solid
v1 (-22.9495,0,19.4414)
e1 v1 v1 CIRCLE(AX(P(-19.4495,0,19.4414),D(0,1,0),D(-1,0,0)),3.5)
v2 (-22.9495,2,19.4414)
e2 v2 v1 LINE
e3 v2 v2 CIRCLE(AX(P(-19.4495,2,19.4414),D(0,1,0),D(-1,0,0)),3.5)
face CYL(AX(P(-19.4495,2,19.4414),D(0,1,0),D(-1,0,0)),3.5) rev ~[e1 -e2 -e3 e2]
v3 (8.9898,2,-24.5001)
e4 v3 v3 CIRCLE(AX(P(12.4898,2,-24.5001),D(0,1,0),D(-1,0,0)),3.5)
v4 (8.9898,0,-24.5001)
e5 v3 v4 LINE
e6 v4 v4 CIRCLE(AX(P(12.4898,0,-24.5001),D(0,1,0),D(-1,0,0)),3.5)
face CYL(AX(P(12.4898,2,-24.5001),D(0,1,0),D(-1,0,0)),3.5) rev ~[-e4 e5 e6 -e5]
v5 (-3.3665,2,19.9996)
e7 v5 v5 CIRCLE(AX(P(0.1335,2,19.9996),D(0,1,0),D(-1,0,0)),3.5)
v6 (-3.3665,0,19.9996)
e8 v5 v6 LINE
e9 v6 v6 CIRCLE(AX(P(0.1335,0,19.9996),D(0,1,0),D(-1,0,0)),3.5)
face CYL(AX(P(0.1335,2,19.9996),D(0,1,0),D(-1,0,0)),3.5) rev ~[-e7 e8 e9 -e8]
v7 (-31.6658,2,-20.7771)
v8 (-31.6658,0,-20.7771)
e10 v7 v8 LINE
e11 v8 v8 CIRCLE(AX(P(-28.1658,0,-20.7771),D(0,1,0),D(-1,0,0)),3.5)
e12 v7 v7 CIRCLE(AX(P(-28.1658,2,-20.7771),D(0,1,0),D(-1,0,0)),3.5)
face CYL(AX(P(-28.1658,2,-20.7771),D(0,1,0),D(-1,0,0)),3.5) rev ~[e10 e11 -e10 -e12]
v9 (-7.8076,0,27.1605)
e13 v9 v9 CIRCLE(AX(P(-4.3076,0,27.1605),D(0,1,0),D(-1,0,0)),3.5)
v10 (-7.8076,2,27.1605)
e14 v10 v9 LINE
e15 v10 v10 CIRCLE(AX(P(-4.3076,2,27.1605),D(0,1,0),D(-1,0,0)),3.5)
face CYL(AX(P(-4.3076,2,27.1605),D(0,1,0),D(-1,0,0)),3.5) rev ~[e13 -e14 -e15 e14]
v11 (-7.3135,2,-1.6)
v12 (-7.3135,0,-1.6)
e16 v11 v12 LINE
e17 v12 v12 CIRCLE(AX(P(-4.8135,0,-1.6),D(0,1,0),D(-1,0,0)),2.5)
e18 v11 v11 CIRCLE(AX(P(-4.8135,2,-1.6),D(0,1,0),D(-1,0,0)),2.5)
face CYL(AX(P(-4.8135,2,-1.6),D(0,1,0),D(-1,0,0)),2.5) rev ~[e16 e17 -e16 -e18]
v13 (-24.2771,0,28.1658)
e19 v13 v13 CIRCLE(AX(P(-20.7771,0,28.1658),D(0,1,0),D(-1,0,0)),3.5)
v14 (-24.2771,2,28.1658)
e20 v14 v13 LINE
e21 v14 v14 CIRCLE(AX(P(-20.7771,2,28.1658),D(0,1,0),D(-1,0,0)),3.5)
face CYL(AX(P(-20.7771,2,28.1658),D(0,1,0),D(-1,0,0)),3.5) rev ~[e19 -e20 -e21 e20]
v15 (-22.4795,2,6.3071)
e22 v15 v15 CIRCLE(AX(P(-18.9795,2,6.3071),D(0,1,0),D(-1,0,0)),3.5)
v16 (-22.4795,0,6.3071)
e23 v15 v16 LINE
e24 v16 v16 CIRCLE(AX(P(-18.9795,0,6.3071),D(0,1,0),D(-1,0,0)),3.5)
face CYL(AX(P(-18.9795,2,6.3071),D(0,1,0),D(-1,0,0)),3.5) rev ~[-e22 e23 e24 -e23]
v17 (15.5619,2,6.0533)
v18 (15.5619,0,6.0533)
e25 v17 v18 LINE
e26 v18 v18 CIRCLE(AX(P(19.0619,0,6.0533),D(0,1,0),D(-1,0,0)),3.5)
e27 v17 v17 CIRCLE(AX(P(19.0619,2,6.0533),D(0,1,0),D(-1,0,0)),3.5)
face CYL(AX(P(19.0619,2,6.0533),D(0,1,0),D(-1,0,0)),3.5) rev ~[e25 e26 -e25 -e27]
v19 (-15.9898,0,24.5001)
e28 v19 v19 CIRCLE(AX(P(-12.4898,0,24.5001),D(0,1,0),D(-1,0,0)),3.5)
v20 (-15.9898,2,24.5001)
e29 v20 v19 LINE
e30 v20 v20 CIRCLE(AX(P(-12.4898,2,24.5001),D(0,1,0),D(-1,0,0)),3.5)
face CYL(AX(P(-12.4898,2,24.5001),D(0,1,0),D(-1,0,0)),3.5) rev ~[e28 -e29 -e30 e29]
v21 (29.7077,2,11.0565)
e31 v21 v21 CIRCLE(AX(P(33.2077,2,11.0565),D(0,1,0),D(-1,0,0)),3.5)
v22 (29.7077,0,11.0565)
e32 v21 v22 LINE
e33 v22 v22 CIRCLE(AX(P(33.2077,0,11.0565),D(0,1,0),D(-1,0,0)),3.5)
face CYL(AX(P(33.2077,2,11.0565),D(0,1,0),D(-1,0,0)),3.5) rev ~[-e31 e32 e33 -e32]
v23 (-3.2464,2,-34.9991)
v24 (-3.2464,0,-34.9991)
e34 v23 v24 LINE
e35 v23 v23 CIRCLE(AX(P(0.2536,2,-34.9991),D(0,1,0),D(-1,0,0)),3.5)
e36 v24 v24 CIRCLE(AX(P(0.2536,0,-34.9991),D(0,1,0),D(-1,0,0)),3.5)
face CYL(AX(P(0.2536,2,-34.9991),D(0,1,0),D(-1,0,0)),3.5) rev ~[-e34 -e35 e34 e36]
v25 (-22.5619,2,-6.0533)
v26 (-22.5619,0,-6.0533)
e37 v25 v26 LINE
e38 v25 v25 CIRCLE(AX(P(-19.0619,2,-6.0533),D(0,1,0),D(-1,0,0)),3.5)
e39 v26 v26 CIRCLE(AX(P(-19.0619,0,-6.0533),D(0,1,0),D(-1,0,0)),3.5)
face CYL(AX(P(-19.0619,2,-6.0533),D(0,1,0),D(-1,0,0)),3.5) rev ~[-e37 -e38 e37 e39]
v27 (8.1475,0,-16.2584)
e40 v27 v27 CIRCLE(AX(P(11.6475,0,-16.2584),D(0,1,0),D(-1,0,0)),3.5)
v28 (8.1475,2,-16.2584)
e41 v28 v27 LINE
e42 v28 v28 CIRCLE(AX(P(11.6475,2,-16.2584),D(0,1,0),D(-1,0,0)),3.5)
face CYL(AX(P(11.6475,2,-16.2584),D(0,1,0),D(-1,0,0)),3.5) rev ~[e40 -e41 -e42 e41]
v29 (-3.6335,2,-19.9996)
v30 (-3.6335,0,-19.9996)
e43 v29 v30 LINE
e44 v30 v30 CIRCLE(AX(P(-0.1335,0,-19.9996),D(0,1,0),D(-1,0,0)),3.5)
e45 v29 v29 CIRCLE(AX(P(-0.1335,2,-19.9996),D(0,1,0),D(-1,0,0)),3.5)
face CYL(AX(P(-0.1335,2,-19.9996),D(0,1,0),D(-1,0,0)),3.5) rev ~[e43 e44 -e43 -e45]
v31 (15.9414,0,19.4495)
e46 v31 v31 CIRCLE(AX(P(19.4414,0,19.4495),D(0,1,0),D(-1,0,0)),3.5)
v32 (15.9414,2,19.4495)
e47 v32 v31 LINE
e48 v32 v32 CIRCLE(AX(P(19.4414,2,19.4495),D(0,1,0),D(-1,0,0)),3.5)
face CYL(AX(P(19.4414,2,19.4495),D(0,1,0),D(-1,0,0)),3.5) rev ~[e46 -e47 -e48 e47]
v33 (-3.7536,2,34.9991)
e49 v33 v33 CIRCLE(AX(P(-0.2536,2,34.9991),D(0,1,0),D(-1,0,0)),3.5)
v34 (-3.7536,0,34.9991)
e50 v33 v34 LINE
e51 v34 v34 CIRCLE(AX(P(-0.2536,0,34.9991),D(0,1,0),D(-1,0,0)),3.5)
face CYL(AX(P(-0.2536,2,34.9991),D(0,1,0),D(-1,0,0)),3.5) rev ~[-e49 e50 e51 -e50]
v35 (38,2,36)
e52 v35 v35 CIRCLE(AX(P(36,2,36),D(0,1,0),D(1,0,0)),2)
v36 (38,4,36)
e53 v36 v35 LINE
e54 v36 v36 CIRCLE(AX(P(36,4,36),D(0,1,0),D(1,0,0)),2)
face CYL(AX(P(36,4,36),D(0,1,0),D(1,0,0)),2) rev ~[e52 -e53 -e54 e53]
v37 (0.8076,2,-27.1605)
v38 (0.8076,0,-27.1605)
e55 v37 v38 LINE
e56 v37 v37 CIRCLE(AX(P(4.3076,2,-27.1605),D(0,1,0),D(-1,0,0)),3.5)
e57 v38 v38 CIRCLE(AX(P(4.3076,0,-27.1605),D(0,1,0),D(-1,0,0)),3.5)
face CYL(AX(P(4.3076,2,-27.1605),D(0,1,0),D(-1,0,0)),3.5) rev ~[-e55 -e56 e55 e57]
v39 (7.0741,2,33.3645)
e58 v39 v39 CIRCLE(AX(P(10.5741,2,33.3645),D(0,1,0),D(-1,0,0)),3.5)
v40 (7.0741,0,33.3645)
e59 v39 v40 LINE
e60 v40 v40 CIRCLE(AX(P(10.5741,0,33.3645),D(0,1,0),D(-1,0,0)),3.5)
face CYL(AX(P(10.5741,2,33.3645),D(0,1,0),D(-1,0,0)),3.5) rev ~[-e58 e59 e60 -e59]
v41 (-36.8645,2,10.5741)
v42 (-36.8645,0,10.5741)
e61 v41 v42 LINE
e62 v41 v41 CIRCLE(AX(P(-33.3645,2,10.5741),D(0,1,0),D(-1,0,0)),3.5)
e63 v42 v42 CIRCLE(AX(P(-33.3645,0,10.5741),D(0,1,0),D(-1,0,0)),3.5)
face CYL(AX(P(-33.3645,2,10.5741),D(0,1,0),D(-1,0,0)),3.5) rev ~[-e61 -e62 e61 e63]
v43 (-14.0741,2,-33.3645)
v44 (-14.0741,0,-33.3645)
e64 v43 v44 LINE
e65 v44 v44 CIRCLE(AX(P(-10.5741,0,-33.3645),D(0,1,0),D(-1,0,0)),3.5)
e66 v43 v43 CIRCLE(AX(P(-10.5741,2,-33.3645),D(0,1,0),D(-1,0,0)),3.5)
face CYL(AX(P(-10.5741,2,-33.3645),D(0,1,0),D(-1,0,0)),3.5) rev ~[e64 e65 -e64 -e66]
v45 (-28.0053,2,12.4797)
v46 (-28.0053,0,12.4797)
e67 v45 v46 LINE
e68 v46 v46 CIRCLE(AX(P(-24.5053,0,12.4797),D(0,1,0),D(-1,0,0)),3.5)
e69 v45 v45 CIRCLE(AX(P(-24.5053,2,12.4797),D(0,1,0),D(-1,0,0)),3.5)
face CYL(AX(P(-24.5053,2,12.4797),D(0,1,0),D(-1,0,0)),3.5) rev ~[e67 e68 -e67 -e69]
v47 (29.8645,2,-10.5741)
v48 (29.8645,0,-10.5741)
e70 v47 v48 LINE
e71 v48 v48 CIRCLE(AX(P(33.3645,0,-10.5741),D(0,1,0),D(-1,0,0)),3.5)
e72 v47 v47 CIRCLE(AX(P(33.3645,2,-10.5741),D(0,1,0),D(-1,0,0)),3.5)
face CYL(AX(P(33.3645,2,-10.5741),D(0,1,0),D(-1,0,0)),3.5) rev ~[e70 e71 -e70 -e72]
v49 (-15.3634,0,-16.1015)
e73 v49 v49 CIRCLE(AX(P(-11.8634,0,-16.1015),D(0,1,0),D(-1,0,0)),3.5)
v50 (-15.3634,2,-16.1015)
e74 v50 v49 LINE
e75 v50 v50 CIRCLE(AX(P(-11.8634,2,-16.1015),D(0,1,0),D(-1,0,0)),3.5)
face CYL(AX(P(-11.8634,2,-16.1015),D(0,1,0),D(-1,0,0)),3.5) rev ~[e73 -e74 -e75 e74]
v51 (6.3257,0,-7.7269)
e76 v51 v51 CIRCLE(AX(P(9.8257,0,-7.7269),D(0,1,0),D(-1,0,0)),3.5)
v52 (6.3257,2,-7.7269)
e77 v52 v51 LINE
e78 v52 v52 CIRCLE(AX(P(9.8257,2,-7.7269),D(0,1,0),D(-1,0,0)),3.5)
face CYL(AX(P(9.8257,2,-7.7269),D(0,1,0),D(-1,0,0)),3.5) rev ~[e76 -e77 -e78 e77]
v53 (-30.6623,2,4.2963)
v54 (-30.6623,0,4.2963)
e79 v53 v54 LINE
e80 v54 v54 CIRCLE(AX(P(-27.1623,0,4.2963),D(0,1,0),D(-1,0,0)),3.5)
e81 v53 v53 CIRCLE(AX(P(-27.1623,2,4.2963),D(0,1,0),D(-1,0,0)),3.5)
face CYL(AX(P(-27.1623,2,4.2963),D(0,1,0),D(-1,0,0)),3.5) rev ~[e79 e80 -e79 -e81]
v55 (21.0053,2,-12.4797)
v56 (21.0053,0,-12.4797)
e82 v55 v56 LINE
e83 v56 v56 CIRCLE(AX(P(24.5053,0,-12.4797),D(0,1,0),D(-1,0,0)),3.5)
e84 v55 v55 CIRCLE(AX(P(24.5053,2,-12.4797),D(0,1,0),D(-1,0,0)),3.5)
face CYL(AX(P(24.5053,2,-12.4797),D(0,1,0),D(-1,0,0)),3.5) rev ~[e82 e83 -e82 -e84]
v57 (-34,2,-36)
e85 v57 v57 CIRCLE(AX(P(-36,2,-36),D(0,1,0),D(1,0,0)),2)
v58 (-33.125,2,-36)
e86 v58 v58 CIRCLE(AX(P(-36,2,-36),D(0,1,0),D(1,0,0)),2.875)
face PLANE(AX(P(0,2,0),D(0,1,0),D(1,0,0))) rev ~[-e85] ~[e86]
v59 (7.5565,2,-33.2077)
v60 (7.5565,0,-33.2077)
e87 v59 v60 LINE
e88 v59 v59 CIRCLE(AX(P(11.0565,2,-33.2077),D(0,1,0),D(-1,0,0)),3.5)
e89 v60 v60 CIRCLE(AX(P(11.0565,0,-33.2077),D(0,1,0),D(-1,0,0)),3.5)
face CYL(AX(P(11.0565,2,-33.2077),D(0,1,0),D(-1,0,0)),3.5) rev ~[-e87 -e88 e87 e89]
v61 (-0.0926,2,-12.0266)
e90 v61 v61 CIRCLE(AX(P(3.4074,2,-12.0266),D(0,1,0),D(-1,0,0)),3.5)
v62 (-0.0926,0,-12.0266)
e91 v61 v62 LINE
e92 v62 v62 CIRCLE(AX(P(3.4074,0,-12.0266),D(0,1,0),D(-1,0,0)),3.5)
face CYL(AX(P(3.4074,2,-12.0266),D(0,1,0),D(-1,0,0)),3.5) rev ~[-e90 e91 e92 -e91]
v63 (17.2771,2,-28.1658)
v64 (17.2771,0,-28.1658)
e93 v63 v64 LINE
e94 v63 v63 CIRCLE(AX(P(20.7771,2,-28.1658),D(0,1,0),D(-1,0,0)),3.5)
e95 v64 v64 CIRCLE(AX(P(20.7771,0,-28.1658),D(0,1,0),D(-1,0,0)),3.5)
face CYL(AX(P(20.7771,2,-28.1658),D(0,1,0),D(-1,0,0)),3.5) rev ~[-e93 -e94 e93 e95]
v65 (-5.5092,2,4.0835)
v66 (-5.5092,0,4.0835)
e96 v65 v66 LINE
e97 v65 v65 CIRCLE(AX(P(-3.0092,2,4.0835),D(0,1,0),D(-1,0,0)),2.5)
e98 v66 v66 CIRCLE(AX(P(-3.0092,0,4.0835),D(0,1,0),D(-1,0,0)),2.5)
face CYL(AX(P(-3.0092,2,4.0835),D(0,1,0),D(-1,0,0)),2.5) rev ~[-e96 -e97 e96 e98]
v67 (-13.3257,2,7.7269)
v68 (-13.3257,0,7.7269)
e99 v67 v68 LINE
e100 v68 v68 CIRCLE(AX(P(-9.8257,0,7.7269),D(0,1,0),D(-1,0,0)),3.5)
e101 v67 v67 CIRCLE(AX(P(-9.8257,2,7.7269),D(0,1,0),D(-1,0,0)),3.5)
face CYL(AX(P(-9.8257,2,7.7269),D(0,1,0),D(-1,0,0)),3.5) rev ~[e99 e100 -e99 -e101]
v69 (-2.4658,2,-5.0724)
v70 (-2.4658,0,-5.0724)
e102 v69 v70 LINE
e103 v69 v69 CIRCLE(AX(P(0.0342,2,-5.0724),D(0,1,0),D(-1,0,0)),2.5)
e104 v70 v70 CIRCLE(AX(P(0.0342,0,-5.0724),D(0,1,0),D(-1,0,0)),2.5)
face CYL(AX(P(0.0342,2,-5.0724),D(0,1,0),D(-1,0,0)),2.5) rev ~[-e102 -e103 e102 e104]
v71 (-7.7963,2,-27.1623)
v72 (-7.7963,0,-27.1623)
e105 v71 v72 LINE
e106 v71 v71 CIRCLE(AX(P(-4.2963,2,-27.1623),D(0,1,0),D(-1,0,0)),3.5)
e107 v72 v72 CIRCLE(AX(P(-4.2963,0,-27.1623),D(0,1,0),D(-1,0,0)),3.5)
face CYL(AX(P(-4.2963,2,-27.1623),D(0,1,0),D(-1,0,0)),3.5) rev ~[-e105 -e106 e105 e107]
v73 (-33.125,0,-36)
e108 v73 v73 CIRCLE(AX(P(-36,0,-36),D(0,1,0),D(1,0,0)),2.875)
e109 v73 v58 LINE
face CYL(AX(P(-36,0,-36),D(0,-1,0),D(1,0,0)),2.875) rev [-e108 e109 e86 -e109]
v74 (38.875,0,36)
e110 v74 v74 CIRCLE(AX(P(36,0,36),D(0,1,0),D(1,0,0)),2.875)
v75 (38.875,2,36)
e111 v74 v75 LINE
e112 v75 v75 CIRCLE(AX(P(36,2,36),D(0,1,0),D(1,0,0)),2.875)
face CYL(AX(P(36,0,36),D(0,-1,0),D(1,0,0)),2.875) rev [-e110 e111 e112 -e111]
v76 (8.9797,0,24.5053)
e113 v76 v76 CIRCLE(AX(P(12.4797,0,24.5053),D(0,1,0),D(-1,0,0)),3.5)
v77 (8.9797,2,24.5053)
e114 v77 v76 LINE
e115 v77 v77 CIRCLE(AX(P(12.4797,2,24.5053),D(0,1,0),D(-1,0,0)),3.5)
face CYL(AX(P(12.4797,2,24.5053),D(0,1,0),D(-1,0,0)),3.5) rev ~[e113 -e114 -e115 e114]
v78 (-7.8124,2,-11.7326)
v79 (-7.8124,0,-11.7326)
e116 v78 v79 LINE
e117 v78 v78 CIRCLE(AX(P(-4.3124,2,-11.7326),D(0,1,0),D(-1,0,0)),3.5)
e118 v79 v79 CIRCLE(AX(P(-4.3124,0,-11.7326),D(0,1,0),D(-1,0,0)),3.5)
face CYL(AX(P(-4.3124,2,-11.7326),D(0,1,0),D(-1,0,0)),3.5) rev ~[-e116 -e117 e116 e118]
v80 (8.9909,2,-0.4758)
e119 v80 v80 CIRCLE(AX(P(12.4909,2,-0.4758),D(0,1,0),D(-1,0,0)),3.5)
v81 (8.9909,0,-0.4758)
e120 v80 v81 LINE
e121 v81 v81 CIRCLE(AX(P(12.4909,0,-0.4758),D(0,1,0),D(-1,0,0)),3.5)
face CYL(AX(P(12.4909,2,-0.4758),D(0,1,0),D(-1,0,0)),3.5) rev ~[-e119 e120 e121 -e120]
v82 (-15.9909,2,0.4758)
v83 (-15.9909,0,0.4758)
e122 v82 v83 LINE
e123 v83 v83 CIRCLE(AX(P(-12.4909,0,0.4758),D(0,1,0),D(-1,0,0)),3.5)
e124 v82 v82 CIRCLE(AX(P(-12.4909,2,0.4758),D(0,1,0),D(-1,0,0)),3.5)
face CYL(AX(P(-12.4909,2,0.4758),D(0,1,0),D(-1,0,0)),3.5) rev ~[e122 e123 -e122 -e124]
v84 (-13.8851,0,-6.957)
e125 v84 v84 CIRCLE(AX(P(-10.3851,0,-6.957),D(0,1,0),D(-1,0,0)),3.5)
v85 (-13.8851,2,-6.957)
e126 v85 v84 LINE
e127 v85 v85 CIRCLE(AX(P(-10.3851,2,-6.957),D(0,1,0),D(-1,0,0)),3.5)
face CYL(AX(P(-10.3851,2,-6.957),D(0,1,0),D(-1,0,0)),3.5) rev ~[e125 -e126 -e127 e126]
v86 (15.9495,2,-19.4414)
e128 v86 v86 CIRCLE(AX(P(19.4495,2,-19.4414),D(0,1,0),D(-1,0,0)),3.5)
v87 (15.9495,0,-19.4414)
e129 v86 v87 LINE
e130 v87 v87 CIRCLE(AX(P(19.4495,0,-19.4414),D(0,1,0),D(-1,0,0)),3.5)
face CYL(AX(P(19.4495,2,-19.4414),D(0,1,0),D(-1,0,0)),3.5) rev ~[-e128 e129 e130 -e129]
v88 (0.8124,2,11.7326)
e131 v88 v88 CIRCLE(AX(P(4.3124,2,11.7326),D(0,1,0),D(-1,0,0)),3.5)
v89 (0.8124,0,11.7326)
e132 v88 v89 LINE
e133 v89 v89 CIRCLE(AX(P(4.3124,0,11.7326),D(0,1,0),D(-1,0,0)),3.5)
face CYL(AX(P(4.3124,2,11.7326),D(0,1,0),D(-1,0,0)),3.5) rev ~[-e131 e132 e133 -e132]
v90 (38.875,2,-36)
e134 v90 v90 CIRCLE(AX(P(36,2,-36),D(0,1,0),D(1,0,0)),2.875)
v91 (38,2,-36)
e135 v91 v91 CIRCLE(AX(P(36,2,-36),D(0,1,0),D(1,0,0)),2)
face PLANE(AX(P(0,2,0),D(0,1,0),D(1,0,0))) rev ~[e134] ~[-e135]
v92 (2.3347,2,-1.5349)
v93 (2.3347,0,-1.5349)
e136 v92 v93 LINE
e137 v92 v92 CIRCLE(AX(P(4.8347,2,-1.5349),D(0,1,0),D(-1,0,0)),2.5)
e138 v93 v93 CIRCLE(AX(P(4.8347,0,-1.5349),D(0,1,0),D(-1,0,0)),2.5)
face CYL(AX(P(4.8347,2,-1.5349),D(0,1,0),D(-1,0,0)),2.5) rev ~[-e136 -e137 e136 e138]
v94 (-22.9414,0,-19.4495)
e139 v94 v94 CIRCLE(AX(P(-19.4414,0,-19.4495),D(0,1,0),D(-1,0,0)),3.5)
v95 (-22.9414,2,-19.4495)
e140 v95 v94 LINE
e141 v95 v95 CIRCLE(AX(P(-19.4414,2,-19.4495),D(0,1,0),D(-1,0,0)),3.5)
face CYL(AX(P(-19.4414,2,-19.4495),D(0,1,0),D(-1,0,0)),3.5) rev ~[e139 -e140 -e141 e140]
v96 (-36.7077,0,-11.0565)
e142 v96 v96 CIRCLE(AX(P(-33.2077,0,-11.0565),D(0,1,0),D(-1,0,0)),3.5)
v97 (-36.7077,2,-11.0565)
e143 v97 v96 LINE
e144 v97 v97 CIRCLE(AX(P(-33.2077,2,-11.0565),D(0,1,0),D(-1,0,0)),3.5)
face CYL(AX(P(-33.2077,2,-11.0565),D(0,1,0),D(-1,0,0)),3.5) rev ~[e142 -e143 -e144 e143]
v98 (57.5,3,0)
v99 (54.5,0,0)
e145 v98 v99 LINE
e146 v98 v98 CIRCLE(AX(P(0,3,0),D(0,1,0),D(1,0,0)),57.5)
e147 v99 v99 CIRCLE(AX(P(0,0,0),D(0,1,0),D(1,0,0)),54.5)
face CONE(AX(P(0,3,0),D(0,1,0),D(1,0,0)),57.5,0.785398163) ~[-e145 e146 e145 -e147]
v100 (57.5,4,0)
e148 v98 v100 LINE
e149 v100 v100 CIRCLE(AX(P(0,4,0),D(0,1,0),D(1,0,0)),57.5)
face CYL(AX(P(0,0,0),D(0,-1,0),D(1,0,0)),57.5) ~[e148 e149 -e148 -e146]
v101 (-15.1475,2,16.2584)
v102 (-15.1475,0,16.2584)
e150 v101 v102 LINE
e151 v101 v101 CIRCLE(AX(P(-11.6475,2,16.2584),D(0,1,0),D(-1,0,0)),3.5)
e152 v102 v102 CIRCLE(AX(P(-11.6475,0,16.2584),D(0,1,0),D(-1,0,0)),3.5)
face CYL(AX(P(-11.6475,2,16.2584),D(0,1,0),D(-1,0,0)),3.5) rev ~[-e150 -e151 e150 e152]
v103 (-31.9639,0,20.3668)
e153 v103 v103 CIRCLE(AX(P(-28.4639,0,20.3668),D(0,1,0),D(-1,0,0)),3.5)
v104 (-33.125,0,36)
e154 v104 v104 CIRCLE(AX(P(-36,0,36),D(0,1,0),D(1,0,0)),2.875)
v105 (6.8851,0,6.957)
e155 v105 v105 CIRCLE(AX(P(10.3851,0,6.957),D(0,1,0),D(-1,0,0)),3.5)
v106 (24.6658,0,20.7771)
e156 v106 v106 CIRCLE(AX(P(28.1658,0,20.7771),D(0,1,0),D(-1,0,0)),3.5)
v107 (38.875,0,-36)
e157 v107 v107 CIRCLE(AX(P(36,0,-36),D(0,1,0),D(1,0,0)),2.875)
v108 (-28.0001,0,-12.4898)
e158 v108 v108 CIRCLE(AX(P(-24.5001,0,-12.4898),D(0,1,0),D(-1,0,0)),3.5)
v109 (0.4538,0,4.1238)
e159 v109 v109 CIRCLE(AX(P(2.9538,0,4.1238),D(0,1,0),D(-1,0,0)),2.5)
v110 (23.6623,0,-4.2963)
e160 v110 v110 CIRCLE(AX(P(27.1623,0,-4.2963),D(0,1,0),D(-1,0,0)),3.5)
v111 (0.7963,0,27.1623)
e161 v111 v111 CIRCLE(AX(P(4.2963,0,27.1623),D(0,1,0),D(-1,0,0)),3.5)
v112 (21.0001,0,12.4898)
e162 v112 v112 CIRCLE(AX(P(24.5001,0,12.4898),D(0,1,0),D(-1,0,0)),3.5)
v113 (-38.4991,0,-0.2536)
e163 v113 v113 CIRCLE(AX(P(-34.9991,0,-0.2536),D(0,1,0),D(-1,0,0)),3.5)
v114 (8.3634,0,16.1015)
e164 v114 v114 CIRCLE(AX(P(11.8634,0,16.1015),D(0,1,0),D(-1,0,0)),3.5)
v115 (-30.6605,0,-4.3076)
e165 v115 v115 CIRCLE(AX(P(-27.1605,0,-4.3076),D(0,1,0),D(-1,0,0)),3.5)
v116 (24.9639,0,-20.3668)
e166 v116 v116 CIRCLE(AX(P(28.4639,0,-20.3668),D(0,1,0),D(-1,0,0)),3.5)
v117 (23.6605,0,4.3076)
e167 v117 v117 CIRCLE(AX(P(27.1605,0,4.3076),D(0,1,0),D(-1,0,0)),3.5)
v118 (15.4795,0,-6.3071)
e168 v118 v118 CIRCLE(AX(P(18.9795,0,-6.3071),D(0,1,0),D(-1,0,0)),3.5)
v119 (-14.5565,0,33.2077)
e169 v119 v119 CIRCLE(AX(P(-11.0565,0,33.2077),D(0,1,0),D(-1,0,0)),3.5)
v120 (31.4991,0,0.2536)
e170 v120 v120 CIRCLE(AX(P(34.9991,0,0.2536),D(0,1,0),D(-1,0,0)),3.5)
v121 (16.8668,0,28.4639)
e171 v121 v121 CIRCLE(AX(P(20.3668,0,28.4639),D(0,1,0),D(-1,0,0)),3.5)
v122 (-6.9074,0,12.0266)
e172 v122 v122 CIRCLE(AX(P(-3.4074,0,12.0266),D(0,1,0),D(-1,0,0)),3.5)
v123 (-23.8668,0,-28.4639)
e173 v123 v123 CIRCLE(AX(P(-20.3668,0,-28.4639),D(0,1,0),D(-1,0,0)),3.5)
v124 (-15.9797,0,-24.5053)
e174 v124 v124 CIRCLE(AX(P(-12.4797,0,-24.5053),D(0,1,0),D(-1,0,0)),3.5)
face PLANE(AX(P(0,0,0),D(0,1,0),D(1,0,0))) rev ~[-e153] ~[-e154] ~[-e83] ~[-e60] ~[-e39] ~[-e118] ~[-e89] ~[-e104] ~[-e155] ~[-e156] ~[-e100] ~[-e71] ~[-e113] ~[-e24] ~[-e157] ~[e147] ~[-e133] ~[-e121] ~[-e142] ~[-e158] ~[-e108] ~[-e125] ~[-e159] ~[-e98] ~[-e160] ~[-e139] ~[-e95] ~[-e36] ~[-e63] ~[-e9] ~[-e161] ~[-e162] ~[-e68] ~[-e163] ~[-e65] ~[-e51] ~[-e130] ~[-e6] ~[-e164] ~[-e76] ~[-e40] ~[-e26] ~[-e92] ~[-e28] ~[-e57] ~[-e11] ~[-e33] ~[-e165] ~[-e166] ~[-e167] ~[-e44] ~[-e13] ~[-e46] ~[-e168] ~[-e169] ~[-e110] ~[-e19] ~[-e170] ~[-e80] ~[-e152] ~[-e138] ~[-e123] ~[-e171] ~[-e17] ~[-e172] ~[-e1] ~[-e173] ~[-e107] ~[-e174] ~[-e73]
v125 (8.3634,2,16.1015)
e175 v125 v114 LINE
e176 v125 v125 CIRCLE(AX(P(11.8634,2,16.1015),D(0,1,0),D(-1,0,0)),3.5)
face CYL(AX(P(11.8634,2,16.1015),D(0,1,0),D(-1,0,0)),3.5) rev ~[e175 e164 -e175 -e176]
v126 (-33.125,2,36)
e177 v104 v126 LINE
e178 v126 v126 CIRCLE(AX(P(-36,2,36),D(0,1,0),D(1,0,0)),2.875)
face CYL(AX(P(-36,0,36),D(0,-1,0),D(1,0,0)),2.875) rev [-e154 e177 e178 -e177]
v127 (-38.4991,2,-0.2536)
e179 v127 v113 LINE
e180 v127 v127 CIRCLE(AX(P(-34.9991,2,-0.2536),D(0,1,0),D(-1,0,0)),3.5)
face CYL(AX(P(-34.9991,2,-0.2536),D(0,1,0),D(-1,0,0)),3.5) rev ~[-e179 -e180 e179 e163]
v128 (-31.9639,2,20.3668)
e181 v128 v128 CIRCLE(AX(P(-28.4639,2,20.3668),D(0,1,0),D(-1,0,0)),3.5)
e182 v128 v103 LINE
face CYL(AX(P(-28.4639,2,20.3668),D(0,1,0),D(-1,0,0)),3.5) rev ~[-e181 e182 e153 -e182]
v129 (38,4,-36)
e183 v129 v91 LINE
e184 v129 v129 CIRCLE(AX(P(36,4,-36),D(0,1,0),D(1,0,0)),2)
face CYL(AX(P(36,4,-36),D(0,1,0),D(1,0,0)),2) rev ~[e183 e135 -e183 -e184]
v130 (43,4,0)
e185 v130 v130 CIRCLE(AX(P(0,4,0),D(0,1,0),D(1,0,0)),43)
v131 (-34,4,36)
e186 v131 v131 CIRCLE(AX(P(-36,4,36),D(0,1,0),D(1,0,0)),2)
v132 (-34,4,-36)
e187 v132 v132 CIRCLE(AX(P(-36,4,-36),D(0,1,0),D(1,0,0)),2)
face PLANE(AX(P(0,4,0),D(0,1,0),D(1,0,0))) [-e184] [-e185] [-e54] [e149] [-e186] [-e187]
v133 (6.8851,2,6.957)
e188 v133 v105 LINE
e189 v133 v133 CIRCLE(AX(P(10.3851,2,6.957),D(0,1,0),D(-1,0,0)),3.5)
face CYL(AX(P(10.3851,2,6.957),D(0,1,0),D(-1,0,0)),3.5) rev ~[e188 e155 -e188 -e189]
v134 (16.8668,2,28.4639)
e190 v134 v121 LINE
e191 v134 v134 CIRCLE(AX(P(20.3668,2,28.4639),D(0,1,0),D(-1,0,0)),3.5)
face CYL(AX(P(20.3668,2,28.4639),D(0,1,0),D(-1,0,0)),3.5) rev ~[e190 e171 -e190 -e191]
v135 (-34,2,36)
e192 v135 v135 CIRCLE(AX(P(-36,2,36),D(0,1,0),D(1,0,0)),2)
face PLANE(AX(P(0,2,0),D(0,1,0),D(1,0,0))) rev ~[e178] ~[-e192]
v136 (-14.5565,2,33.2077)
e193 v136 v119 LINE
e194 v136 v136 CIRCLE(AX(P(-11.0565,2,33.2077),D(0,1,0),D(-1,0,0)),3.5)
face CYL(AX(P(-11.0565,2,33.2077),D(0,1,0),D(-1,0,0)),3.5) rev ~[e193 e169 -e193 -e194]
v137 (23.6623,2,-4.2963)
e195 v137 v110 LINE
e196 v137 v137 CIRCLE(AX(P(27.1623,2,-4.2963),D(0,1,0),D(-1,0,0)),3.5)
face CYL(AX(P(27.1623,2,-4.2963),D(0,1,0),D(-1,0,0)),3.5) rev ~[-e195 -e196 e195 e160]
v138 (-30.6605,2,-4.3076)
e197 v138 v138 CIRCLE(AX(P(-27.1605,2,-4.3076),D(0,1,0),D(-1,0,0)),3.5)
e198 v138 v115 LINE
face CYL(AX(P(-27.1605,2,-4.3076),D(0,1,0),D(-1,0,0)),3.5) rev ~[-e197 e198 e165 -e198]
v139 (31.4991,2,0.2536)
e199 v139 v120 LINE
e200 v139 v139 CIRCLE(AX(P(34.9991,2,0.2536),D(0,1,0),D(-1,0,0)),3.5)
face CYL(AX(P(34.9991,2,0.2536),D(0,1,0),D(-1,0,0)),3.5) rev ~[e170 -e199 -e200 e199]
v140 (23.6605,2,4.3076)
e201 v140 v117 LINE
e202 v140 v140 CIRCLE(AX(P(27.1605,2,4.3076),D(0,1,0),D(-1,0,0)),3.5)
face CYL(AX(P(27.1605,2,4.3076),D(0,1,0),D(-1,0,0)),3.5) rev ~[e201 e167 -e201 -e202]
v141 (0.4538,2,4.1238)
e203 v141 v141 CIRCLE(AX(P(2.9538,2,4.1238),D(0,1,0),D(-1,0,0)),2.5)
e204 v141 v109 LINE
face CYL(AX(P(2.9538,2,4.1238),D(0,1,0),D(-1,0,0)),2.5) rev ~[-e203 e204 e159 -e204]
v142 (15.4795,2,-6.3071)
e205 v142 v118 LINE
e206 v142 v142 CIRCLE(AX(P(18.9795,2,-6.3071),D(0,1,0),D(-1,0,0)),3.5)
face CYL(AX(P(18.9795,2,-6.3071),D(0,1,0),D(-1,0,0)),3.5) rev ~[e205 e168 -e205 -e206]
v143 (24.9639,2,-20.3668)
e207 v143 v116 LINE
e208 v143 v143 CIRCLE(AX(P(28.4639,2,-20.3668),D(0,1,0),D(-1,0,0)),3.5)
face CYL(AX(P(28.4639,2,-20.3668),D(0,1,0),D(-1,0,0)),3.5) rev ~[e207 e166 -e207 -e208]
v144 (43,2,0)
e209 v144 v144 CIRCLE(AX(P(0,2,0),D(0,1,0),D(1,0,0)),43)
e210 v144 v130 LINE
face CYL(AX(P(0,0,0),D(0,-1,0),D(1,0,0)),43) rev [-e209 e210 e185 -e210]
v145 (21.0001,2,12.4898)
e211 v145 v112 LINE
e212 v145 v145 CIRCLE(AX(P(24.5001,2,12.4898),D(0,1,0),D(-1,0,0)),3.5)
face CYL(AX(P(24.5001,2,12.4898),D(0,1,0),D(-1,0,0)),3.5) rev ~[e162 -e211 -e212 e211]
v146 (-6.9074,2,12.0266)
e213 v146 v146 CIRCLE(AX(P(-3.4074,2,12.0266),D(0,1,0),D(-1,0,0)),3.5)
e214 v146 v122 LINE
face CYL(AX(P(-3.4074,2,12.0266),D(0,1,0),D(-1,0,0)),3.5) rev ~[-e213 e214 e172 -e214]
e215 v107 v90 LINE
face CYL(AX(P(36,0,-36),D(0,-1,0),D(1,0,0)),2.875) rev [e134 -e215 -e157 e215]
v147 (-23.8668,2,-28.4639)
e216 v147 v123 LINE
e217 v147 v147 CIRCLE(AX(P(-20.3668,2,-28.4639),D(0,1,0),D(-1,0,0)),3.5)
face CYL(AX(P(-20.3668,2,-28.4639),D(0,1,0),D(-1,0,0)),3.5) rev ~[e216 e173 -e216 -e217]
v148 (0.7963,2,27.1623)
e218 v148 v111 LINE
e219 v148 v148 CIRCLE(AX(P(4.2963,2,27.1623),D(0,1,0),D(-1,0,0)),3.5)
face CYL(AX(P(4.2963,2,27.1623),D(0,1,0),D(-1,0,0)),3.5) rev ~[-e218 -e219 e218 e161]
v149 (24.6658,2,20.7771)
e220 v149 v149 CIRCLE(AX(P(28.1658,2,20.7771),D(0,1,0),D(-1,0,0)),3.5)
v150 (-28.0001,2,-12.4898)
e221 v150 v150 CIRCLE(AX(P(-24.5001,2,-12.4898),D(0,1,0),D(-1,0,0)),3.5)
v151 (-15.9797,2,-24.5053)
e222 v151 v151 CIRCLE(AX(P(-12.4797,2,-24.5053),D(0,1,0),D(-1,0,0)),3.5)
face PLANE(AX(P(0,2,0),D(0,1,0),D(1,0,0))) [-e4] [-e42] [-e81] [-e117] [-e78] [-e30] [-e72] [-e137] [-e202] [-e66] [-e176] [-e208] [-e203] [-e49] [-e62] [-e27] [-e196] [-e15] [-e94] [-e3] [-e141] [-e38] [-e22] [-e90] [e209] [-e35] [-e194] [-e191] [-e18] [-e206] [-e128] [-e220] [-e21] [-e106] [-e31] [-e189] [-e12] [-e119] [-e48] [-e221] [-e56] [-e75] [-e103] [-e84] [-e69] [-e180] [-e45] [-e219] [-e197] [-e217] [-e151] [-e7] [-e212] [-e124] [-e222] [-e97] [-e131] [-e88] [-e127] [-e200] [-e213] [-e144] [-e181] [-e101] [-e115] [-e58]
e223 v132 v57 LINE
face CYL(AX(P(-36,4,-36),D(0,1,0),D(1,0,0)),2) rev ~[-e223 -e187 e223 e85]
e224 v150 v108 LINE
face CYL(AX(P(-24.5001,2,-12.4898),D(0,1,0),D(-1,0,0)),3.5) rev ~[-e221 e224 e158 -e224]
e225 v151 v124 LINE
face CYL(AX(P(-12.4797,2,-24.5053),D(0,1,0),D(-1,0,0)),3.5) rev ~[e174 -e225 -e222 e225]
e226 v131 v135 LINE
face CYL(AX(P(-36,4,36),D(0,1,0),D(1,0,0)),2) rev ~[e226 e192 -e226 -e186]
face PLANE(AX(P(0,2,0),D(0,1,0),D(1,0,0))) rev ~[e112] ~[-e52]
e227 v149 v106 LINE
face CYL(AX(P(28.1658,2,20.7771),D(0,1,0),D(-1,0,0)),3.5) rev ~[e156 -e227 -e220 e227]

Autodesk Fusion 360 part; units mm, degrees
sketch "Sketch1" plane through (0, 0, 0) normal (0, 1, 0) x (1, 0, 0)
  circle A0 centre (0, 0) radius 57.5
  line L0 (36, -36) -> (-36, -36) construction
  line L1 (-36, -36) -> (-36, 36) construction
  line L2 (-36, 36) -> (36, 36) construction
  line L3 (36, 36) -> (36, -36) construction
  line L4 (36, -36) -> (-36, 36) construction
  line L5 (-36, -36) -> (36, 36) construction
  circle A1 centre (0, 0) radius 43
  circle A2 centre (-36, 36) radius 2
  circle A3 centre (36, 36) radius 2
  circle A4 centre (36, -36) radius 2
  circle A5 centre (-36, -36) radius 2
  circle A6 centre (-36, -36) radius 2.875
  circle A7 centre (36, -36) radius 2.875
  circle A8 centre (36, 36) radius 2.875
  circle A9 centre (-36, 36) radius 2.875
  dimension "d1" = 115
  dimension "d2" = 72
  dimension "d3" = 72
  dimension "d4" = 86
  dimension "d5" = 4
  dimension "d6" = 4
  dimension "d7" = 4
  dimension "d8" = 4
  dimension "d9" = 5.75
  dimension "d10" = 5.75
  dimension "d11" = 5.75
  dimension "d12" = 5.75
extrude "Extrude1" add sketch "Sketch1" along normal blind 4 contours A0
extrude "Extrude3" add sketch "Sketch1" along normal blind 2 contours A1
sketch "Sketch2" plane through (0, 2, 0) normal (0, 1, 0) x (-1, 0, 0)
  circle A0 centre (0, 0) radius 43
  circle A1 centre (0, 0) radius 35 construction
  circle A2 centre (0, 0) radius 27.5 construction
  circle A3 centre (0, 0) radius 20 construction
  circle A4 centre (0, 0) radius 12.5 construction
  circle A5 centre (0, 0) radius 7.5 construction
  circle A6 centre (-0.2536, -34.9991) radius 3.5
  circle A7 centre (10.5741, -33.3645) radius 3.5
  circle A8 centre (20.3668, -28.4639) radius 3.5
  circle A9 centre (28.1658, -20.7771) radius 3.5
  circle A10 centre (33.2077, -11.0565) radius 3.5
  circle A11 centre (34.9991, -0.2536) radius 3.5
  circle A12 centre (33.3645, 10.5741) radius 3.5
  circle A13 centre (28.4639, 20.3668) radius 3.5
  circle A14 centre (20.7771, 28.1658) radius 3.5
  circle A15 centre (11.0565, 33.2077) radius 3.5
  circle A16 centre (0.2536, 34.9991) radius 3.5
  circle A17 centre (-10.5741, 33.3645) radius 3.5
  circle A18 centre (-20.3668, 28.4639) radius 3.5
  circle A19 centre (-28.1658, 20.7771) radius 3.5
  circle A20 centre (-33.2077, 11.0565) radius 3.5
  circle A21 centre (-34.9991, 0.2536) radius 3.5
  circle A22 centre (-33.3645, -10.5741) radius 3.5
  circle A23 centre (-28.4639, -20.3668) radius 3.5
  circle A24 centre (-20.7771, -28.1658) radius 3.5
  circle A25 centre (-11.0565, -33.2077) radius 3.5
  circle A26 centre (4.2963, -27.1623) radius 3.5
  circle A27 centre (12.4797, -24.5053) radius 3.5
  circle A28 centre (19.4414, -19.4495) radius 3.5
  circle A29 centre (24.5001, -12.4898) radius 3.5
  circle A30 centre (27.1605, -4.3076) radius 3.5
  circle A31 centre (27.1623, 4.2963) radius 3.5
  circle A32 centre (24.5053, 12.4797) radius 3.5
  circle A33 centre (19.4495, 19.4414) radius 3.5
  circle A34 centre (12.4898, 24.5001) radius 3.5
  circle A35 centre (4.3076, 27.1605) radius 3.5
  circle A36 centre (-4.2963, 27.1623) radius 3.5
  circle A37 centre (-12.4797, 24.5053) radius 3.5
  circle A38 centre (-19.4414, 19.4495) radius 3.5
  circle A39 centre (-24.5001, 12.4898) radius 3.5
  circle A40 centre (-27.1605, 4.3076) radius 3.5
  circle A41 centre (-27.1623, -4.2963) radius 3.5
  circle A42 centre (-24.5053, -12.4797) radius 3.5
  circle A43 centre (-19.4495, -19.4414) radius 3.5
  circle A44 centre (-12.4898, -24.5001) radius 3.5
  circle A45 centre (-4.3076, -27.1605) radius 3.5
  circle A46 centre (0.1335, -19.9996) radius 3.5
  circle A47 centre (11.8634, -16.1015) radius 3.5
  circle A48 centre (19.0619, -6.0533) radius 3.5
  circle A49 centre (18.9795, 6.3071) radius 3.5
  circle A50 centre (11.6475, 16.2584) radius 3.5
  circle A51 centre (-0.1335, 19.9996) radius 3.5
  circle A52 centre (-11.8634, 16.1015) radius 3.5
  circle A53 centre (-19.0619, 6.0533) radius 3.5
  circle A54 centre (-18.9795, -6.3071) radius 3.5
  circle A55 centre (-11.6475, -16.2584) radius 3.5
  circle A56 centre (4.3124, -11.7326) radius 3.5
  circle A57 centre (10.3851, -6.957) radius 3.5
  circle A58 centre (12.4909, 0.4758) radius 3.5
  circle A59 centre (9.8257, 7.7269) radius 3.5
  circle A60 centre (3.4074, 12.0266) radius 3.5
  circle A61 centre (-4.3124, 11.7326) radius 3.5
  circle A62 centre (-10.3851, 6.957) radius 3.5
  circle A63 centre (-12.4909, -0.4758) radius 3.5
  circle A64 centre (-9.8257, -7.7269) radius 3.5
  circle A65 centre (-3.4074, -12.0266) radius 3.5
  circle A66 centre (-0.0342, -5.0724) radius 2.5
  circle A67 centre (4.8135, -1.6) radius 2.5
  circle A68 centre (3.0092, 4.0835) radius 2.5
  circle A69 centre (-2.9538, 4.1238) radius 2.5
  circle A70 centre (-4.8347, -1.5349) radius 2.5
  dimension "d19" = 70
  dimension "d20" = 55
  dimension "d21" = 40
  dimension "d22" = 25
  dimension "d23" = 15
  dimension "d24" = 7
  dimension "d28" = 360
  dimension "d29" = 7
  dimension "d31" = 360
  dimension "d32" = 7
  dimension "d34" = 360
  dimension "d35" = 7
  dimension "d43" = 360
  dimension "d45" = 5
  dimension "d47" = 360
extrude "Extrude4" cut sketch "Sketch2" against normal up to surface (2 mm away) contours A6
extrude "Extrude5" cut sketch "Sketch2" against normal up to surface (2 mm away) contours A7 | A8 | A9 | A10 | A11 | A12 | A13 | A14 | A15 | A16 | A17 | A18 | A19 | A20 | A21 | A22 | A23 | A24 | A25 | A26 | A27 | A28 | A29 | A30 | A31 | A32 | A33 | A34 | A35 | A36 | A37 | A38 | A39 | A40 | A41 | A42 | A43 | A44 | A45 | A46 | A47 | A48 | A49 | A50 | A51 | A52 | A53 | A54 | A55 | A56 | A57 | A58 | A59 | A60 | A61 | A62 | A63 | A64 | A65 | A66 | A67 | A68 | A69 | A70
extrude "Extrude6" add sketch "Sketch1" against normal blind 2 from surface at 4 contours A6 | A7 | A8 | A9
chamfer "Chamfer1" distance 3 angle 45 1 edges at (-53.6088, 0, 20.7929)
